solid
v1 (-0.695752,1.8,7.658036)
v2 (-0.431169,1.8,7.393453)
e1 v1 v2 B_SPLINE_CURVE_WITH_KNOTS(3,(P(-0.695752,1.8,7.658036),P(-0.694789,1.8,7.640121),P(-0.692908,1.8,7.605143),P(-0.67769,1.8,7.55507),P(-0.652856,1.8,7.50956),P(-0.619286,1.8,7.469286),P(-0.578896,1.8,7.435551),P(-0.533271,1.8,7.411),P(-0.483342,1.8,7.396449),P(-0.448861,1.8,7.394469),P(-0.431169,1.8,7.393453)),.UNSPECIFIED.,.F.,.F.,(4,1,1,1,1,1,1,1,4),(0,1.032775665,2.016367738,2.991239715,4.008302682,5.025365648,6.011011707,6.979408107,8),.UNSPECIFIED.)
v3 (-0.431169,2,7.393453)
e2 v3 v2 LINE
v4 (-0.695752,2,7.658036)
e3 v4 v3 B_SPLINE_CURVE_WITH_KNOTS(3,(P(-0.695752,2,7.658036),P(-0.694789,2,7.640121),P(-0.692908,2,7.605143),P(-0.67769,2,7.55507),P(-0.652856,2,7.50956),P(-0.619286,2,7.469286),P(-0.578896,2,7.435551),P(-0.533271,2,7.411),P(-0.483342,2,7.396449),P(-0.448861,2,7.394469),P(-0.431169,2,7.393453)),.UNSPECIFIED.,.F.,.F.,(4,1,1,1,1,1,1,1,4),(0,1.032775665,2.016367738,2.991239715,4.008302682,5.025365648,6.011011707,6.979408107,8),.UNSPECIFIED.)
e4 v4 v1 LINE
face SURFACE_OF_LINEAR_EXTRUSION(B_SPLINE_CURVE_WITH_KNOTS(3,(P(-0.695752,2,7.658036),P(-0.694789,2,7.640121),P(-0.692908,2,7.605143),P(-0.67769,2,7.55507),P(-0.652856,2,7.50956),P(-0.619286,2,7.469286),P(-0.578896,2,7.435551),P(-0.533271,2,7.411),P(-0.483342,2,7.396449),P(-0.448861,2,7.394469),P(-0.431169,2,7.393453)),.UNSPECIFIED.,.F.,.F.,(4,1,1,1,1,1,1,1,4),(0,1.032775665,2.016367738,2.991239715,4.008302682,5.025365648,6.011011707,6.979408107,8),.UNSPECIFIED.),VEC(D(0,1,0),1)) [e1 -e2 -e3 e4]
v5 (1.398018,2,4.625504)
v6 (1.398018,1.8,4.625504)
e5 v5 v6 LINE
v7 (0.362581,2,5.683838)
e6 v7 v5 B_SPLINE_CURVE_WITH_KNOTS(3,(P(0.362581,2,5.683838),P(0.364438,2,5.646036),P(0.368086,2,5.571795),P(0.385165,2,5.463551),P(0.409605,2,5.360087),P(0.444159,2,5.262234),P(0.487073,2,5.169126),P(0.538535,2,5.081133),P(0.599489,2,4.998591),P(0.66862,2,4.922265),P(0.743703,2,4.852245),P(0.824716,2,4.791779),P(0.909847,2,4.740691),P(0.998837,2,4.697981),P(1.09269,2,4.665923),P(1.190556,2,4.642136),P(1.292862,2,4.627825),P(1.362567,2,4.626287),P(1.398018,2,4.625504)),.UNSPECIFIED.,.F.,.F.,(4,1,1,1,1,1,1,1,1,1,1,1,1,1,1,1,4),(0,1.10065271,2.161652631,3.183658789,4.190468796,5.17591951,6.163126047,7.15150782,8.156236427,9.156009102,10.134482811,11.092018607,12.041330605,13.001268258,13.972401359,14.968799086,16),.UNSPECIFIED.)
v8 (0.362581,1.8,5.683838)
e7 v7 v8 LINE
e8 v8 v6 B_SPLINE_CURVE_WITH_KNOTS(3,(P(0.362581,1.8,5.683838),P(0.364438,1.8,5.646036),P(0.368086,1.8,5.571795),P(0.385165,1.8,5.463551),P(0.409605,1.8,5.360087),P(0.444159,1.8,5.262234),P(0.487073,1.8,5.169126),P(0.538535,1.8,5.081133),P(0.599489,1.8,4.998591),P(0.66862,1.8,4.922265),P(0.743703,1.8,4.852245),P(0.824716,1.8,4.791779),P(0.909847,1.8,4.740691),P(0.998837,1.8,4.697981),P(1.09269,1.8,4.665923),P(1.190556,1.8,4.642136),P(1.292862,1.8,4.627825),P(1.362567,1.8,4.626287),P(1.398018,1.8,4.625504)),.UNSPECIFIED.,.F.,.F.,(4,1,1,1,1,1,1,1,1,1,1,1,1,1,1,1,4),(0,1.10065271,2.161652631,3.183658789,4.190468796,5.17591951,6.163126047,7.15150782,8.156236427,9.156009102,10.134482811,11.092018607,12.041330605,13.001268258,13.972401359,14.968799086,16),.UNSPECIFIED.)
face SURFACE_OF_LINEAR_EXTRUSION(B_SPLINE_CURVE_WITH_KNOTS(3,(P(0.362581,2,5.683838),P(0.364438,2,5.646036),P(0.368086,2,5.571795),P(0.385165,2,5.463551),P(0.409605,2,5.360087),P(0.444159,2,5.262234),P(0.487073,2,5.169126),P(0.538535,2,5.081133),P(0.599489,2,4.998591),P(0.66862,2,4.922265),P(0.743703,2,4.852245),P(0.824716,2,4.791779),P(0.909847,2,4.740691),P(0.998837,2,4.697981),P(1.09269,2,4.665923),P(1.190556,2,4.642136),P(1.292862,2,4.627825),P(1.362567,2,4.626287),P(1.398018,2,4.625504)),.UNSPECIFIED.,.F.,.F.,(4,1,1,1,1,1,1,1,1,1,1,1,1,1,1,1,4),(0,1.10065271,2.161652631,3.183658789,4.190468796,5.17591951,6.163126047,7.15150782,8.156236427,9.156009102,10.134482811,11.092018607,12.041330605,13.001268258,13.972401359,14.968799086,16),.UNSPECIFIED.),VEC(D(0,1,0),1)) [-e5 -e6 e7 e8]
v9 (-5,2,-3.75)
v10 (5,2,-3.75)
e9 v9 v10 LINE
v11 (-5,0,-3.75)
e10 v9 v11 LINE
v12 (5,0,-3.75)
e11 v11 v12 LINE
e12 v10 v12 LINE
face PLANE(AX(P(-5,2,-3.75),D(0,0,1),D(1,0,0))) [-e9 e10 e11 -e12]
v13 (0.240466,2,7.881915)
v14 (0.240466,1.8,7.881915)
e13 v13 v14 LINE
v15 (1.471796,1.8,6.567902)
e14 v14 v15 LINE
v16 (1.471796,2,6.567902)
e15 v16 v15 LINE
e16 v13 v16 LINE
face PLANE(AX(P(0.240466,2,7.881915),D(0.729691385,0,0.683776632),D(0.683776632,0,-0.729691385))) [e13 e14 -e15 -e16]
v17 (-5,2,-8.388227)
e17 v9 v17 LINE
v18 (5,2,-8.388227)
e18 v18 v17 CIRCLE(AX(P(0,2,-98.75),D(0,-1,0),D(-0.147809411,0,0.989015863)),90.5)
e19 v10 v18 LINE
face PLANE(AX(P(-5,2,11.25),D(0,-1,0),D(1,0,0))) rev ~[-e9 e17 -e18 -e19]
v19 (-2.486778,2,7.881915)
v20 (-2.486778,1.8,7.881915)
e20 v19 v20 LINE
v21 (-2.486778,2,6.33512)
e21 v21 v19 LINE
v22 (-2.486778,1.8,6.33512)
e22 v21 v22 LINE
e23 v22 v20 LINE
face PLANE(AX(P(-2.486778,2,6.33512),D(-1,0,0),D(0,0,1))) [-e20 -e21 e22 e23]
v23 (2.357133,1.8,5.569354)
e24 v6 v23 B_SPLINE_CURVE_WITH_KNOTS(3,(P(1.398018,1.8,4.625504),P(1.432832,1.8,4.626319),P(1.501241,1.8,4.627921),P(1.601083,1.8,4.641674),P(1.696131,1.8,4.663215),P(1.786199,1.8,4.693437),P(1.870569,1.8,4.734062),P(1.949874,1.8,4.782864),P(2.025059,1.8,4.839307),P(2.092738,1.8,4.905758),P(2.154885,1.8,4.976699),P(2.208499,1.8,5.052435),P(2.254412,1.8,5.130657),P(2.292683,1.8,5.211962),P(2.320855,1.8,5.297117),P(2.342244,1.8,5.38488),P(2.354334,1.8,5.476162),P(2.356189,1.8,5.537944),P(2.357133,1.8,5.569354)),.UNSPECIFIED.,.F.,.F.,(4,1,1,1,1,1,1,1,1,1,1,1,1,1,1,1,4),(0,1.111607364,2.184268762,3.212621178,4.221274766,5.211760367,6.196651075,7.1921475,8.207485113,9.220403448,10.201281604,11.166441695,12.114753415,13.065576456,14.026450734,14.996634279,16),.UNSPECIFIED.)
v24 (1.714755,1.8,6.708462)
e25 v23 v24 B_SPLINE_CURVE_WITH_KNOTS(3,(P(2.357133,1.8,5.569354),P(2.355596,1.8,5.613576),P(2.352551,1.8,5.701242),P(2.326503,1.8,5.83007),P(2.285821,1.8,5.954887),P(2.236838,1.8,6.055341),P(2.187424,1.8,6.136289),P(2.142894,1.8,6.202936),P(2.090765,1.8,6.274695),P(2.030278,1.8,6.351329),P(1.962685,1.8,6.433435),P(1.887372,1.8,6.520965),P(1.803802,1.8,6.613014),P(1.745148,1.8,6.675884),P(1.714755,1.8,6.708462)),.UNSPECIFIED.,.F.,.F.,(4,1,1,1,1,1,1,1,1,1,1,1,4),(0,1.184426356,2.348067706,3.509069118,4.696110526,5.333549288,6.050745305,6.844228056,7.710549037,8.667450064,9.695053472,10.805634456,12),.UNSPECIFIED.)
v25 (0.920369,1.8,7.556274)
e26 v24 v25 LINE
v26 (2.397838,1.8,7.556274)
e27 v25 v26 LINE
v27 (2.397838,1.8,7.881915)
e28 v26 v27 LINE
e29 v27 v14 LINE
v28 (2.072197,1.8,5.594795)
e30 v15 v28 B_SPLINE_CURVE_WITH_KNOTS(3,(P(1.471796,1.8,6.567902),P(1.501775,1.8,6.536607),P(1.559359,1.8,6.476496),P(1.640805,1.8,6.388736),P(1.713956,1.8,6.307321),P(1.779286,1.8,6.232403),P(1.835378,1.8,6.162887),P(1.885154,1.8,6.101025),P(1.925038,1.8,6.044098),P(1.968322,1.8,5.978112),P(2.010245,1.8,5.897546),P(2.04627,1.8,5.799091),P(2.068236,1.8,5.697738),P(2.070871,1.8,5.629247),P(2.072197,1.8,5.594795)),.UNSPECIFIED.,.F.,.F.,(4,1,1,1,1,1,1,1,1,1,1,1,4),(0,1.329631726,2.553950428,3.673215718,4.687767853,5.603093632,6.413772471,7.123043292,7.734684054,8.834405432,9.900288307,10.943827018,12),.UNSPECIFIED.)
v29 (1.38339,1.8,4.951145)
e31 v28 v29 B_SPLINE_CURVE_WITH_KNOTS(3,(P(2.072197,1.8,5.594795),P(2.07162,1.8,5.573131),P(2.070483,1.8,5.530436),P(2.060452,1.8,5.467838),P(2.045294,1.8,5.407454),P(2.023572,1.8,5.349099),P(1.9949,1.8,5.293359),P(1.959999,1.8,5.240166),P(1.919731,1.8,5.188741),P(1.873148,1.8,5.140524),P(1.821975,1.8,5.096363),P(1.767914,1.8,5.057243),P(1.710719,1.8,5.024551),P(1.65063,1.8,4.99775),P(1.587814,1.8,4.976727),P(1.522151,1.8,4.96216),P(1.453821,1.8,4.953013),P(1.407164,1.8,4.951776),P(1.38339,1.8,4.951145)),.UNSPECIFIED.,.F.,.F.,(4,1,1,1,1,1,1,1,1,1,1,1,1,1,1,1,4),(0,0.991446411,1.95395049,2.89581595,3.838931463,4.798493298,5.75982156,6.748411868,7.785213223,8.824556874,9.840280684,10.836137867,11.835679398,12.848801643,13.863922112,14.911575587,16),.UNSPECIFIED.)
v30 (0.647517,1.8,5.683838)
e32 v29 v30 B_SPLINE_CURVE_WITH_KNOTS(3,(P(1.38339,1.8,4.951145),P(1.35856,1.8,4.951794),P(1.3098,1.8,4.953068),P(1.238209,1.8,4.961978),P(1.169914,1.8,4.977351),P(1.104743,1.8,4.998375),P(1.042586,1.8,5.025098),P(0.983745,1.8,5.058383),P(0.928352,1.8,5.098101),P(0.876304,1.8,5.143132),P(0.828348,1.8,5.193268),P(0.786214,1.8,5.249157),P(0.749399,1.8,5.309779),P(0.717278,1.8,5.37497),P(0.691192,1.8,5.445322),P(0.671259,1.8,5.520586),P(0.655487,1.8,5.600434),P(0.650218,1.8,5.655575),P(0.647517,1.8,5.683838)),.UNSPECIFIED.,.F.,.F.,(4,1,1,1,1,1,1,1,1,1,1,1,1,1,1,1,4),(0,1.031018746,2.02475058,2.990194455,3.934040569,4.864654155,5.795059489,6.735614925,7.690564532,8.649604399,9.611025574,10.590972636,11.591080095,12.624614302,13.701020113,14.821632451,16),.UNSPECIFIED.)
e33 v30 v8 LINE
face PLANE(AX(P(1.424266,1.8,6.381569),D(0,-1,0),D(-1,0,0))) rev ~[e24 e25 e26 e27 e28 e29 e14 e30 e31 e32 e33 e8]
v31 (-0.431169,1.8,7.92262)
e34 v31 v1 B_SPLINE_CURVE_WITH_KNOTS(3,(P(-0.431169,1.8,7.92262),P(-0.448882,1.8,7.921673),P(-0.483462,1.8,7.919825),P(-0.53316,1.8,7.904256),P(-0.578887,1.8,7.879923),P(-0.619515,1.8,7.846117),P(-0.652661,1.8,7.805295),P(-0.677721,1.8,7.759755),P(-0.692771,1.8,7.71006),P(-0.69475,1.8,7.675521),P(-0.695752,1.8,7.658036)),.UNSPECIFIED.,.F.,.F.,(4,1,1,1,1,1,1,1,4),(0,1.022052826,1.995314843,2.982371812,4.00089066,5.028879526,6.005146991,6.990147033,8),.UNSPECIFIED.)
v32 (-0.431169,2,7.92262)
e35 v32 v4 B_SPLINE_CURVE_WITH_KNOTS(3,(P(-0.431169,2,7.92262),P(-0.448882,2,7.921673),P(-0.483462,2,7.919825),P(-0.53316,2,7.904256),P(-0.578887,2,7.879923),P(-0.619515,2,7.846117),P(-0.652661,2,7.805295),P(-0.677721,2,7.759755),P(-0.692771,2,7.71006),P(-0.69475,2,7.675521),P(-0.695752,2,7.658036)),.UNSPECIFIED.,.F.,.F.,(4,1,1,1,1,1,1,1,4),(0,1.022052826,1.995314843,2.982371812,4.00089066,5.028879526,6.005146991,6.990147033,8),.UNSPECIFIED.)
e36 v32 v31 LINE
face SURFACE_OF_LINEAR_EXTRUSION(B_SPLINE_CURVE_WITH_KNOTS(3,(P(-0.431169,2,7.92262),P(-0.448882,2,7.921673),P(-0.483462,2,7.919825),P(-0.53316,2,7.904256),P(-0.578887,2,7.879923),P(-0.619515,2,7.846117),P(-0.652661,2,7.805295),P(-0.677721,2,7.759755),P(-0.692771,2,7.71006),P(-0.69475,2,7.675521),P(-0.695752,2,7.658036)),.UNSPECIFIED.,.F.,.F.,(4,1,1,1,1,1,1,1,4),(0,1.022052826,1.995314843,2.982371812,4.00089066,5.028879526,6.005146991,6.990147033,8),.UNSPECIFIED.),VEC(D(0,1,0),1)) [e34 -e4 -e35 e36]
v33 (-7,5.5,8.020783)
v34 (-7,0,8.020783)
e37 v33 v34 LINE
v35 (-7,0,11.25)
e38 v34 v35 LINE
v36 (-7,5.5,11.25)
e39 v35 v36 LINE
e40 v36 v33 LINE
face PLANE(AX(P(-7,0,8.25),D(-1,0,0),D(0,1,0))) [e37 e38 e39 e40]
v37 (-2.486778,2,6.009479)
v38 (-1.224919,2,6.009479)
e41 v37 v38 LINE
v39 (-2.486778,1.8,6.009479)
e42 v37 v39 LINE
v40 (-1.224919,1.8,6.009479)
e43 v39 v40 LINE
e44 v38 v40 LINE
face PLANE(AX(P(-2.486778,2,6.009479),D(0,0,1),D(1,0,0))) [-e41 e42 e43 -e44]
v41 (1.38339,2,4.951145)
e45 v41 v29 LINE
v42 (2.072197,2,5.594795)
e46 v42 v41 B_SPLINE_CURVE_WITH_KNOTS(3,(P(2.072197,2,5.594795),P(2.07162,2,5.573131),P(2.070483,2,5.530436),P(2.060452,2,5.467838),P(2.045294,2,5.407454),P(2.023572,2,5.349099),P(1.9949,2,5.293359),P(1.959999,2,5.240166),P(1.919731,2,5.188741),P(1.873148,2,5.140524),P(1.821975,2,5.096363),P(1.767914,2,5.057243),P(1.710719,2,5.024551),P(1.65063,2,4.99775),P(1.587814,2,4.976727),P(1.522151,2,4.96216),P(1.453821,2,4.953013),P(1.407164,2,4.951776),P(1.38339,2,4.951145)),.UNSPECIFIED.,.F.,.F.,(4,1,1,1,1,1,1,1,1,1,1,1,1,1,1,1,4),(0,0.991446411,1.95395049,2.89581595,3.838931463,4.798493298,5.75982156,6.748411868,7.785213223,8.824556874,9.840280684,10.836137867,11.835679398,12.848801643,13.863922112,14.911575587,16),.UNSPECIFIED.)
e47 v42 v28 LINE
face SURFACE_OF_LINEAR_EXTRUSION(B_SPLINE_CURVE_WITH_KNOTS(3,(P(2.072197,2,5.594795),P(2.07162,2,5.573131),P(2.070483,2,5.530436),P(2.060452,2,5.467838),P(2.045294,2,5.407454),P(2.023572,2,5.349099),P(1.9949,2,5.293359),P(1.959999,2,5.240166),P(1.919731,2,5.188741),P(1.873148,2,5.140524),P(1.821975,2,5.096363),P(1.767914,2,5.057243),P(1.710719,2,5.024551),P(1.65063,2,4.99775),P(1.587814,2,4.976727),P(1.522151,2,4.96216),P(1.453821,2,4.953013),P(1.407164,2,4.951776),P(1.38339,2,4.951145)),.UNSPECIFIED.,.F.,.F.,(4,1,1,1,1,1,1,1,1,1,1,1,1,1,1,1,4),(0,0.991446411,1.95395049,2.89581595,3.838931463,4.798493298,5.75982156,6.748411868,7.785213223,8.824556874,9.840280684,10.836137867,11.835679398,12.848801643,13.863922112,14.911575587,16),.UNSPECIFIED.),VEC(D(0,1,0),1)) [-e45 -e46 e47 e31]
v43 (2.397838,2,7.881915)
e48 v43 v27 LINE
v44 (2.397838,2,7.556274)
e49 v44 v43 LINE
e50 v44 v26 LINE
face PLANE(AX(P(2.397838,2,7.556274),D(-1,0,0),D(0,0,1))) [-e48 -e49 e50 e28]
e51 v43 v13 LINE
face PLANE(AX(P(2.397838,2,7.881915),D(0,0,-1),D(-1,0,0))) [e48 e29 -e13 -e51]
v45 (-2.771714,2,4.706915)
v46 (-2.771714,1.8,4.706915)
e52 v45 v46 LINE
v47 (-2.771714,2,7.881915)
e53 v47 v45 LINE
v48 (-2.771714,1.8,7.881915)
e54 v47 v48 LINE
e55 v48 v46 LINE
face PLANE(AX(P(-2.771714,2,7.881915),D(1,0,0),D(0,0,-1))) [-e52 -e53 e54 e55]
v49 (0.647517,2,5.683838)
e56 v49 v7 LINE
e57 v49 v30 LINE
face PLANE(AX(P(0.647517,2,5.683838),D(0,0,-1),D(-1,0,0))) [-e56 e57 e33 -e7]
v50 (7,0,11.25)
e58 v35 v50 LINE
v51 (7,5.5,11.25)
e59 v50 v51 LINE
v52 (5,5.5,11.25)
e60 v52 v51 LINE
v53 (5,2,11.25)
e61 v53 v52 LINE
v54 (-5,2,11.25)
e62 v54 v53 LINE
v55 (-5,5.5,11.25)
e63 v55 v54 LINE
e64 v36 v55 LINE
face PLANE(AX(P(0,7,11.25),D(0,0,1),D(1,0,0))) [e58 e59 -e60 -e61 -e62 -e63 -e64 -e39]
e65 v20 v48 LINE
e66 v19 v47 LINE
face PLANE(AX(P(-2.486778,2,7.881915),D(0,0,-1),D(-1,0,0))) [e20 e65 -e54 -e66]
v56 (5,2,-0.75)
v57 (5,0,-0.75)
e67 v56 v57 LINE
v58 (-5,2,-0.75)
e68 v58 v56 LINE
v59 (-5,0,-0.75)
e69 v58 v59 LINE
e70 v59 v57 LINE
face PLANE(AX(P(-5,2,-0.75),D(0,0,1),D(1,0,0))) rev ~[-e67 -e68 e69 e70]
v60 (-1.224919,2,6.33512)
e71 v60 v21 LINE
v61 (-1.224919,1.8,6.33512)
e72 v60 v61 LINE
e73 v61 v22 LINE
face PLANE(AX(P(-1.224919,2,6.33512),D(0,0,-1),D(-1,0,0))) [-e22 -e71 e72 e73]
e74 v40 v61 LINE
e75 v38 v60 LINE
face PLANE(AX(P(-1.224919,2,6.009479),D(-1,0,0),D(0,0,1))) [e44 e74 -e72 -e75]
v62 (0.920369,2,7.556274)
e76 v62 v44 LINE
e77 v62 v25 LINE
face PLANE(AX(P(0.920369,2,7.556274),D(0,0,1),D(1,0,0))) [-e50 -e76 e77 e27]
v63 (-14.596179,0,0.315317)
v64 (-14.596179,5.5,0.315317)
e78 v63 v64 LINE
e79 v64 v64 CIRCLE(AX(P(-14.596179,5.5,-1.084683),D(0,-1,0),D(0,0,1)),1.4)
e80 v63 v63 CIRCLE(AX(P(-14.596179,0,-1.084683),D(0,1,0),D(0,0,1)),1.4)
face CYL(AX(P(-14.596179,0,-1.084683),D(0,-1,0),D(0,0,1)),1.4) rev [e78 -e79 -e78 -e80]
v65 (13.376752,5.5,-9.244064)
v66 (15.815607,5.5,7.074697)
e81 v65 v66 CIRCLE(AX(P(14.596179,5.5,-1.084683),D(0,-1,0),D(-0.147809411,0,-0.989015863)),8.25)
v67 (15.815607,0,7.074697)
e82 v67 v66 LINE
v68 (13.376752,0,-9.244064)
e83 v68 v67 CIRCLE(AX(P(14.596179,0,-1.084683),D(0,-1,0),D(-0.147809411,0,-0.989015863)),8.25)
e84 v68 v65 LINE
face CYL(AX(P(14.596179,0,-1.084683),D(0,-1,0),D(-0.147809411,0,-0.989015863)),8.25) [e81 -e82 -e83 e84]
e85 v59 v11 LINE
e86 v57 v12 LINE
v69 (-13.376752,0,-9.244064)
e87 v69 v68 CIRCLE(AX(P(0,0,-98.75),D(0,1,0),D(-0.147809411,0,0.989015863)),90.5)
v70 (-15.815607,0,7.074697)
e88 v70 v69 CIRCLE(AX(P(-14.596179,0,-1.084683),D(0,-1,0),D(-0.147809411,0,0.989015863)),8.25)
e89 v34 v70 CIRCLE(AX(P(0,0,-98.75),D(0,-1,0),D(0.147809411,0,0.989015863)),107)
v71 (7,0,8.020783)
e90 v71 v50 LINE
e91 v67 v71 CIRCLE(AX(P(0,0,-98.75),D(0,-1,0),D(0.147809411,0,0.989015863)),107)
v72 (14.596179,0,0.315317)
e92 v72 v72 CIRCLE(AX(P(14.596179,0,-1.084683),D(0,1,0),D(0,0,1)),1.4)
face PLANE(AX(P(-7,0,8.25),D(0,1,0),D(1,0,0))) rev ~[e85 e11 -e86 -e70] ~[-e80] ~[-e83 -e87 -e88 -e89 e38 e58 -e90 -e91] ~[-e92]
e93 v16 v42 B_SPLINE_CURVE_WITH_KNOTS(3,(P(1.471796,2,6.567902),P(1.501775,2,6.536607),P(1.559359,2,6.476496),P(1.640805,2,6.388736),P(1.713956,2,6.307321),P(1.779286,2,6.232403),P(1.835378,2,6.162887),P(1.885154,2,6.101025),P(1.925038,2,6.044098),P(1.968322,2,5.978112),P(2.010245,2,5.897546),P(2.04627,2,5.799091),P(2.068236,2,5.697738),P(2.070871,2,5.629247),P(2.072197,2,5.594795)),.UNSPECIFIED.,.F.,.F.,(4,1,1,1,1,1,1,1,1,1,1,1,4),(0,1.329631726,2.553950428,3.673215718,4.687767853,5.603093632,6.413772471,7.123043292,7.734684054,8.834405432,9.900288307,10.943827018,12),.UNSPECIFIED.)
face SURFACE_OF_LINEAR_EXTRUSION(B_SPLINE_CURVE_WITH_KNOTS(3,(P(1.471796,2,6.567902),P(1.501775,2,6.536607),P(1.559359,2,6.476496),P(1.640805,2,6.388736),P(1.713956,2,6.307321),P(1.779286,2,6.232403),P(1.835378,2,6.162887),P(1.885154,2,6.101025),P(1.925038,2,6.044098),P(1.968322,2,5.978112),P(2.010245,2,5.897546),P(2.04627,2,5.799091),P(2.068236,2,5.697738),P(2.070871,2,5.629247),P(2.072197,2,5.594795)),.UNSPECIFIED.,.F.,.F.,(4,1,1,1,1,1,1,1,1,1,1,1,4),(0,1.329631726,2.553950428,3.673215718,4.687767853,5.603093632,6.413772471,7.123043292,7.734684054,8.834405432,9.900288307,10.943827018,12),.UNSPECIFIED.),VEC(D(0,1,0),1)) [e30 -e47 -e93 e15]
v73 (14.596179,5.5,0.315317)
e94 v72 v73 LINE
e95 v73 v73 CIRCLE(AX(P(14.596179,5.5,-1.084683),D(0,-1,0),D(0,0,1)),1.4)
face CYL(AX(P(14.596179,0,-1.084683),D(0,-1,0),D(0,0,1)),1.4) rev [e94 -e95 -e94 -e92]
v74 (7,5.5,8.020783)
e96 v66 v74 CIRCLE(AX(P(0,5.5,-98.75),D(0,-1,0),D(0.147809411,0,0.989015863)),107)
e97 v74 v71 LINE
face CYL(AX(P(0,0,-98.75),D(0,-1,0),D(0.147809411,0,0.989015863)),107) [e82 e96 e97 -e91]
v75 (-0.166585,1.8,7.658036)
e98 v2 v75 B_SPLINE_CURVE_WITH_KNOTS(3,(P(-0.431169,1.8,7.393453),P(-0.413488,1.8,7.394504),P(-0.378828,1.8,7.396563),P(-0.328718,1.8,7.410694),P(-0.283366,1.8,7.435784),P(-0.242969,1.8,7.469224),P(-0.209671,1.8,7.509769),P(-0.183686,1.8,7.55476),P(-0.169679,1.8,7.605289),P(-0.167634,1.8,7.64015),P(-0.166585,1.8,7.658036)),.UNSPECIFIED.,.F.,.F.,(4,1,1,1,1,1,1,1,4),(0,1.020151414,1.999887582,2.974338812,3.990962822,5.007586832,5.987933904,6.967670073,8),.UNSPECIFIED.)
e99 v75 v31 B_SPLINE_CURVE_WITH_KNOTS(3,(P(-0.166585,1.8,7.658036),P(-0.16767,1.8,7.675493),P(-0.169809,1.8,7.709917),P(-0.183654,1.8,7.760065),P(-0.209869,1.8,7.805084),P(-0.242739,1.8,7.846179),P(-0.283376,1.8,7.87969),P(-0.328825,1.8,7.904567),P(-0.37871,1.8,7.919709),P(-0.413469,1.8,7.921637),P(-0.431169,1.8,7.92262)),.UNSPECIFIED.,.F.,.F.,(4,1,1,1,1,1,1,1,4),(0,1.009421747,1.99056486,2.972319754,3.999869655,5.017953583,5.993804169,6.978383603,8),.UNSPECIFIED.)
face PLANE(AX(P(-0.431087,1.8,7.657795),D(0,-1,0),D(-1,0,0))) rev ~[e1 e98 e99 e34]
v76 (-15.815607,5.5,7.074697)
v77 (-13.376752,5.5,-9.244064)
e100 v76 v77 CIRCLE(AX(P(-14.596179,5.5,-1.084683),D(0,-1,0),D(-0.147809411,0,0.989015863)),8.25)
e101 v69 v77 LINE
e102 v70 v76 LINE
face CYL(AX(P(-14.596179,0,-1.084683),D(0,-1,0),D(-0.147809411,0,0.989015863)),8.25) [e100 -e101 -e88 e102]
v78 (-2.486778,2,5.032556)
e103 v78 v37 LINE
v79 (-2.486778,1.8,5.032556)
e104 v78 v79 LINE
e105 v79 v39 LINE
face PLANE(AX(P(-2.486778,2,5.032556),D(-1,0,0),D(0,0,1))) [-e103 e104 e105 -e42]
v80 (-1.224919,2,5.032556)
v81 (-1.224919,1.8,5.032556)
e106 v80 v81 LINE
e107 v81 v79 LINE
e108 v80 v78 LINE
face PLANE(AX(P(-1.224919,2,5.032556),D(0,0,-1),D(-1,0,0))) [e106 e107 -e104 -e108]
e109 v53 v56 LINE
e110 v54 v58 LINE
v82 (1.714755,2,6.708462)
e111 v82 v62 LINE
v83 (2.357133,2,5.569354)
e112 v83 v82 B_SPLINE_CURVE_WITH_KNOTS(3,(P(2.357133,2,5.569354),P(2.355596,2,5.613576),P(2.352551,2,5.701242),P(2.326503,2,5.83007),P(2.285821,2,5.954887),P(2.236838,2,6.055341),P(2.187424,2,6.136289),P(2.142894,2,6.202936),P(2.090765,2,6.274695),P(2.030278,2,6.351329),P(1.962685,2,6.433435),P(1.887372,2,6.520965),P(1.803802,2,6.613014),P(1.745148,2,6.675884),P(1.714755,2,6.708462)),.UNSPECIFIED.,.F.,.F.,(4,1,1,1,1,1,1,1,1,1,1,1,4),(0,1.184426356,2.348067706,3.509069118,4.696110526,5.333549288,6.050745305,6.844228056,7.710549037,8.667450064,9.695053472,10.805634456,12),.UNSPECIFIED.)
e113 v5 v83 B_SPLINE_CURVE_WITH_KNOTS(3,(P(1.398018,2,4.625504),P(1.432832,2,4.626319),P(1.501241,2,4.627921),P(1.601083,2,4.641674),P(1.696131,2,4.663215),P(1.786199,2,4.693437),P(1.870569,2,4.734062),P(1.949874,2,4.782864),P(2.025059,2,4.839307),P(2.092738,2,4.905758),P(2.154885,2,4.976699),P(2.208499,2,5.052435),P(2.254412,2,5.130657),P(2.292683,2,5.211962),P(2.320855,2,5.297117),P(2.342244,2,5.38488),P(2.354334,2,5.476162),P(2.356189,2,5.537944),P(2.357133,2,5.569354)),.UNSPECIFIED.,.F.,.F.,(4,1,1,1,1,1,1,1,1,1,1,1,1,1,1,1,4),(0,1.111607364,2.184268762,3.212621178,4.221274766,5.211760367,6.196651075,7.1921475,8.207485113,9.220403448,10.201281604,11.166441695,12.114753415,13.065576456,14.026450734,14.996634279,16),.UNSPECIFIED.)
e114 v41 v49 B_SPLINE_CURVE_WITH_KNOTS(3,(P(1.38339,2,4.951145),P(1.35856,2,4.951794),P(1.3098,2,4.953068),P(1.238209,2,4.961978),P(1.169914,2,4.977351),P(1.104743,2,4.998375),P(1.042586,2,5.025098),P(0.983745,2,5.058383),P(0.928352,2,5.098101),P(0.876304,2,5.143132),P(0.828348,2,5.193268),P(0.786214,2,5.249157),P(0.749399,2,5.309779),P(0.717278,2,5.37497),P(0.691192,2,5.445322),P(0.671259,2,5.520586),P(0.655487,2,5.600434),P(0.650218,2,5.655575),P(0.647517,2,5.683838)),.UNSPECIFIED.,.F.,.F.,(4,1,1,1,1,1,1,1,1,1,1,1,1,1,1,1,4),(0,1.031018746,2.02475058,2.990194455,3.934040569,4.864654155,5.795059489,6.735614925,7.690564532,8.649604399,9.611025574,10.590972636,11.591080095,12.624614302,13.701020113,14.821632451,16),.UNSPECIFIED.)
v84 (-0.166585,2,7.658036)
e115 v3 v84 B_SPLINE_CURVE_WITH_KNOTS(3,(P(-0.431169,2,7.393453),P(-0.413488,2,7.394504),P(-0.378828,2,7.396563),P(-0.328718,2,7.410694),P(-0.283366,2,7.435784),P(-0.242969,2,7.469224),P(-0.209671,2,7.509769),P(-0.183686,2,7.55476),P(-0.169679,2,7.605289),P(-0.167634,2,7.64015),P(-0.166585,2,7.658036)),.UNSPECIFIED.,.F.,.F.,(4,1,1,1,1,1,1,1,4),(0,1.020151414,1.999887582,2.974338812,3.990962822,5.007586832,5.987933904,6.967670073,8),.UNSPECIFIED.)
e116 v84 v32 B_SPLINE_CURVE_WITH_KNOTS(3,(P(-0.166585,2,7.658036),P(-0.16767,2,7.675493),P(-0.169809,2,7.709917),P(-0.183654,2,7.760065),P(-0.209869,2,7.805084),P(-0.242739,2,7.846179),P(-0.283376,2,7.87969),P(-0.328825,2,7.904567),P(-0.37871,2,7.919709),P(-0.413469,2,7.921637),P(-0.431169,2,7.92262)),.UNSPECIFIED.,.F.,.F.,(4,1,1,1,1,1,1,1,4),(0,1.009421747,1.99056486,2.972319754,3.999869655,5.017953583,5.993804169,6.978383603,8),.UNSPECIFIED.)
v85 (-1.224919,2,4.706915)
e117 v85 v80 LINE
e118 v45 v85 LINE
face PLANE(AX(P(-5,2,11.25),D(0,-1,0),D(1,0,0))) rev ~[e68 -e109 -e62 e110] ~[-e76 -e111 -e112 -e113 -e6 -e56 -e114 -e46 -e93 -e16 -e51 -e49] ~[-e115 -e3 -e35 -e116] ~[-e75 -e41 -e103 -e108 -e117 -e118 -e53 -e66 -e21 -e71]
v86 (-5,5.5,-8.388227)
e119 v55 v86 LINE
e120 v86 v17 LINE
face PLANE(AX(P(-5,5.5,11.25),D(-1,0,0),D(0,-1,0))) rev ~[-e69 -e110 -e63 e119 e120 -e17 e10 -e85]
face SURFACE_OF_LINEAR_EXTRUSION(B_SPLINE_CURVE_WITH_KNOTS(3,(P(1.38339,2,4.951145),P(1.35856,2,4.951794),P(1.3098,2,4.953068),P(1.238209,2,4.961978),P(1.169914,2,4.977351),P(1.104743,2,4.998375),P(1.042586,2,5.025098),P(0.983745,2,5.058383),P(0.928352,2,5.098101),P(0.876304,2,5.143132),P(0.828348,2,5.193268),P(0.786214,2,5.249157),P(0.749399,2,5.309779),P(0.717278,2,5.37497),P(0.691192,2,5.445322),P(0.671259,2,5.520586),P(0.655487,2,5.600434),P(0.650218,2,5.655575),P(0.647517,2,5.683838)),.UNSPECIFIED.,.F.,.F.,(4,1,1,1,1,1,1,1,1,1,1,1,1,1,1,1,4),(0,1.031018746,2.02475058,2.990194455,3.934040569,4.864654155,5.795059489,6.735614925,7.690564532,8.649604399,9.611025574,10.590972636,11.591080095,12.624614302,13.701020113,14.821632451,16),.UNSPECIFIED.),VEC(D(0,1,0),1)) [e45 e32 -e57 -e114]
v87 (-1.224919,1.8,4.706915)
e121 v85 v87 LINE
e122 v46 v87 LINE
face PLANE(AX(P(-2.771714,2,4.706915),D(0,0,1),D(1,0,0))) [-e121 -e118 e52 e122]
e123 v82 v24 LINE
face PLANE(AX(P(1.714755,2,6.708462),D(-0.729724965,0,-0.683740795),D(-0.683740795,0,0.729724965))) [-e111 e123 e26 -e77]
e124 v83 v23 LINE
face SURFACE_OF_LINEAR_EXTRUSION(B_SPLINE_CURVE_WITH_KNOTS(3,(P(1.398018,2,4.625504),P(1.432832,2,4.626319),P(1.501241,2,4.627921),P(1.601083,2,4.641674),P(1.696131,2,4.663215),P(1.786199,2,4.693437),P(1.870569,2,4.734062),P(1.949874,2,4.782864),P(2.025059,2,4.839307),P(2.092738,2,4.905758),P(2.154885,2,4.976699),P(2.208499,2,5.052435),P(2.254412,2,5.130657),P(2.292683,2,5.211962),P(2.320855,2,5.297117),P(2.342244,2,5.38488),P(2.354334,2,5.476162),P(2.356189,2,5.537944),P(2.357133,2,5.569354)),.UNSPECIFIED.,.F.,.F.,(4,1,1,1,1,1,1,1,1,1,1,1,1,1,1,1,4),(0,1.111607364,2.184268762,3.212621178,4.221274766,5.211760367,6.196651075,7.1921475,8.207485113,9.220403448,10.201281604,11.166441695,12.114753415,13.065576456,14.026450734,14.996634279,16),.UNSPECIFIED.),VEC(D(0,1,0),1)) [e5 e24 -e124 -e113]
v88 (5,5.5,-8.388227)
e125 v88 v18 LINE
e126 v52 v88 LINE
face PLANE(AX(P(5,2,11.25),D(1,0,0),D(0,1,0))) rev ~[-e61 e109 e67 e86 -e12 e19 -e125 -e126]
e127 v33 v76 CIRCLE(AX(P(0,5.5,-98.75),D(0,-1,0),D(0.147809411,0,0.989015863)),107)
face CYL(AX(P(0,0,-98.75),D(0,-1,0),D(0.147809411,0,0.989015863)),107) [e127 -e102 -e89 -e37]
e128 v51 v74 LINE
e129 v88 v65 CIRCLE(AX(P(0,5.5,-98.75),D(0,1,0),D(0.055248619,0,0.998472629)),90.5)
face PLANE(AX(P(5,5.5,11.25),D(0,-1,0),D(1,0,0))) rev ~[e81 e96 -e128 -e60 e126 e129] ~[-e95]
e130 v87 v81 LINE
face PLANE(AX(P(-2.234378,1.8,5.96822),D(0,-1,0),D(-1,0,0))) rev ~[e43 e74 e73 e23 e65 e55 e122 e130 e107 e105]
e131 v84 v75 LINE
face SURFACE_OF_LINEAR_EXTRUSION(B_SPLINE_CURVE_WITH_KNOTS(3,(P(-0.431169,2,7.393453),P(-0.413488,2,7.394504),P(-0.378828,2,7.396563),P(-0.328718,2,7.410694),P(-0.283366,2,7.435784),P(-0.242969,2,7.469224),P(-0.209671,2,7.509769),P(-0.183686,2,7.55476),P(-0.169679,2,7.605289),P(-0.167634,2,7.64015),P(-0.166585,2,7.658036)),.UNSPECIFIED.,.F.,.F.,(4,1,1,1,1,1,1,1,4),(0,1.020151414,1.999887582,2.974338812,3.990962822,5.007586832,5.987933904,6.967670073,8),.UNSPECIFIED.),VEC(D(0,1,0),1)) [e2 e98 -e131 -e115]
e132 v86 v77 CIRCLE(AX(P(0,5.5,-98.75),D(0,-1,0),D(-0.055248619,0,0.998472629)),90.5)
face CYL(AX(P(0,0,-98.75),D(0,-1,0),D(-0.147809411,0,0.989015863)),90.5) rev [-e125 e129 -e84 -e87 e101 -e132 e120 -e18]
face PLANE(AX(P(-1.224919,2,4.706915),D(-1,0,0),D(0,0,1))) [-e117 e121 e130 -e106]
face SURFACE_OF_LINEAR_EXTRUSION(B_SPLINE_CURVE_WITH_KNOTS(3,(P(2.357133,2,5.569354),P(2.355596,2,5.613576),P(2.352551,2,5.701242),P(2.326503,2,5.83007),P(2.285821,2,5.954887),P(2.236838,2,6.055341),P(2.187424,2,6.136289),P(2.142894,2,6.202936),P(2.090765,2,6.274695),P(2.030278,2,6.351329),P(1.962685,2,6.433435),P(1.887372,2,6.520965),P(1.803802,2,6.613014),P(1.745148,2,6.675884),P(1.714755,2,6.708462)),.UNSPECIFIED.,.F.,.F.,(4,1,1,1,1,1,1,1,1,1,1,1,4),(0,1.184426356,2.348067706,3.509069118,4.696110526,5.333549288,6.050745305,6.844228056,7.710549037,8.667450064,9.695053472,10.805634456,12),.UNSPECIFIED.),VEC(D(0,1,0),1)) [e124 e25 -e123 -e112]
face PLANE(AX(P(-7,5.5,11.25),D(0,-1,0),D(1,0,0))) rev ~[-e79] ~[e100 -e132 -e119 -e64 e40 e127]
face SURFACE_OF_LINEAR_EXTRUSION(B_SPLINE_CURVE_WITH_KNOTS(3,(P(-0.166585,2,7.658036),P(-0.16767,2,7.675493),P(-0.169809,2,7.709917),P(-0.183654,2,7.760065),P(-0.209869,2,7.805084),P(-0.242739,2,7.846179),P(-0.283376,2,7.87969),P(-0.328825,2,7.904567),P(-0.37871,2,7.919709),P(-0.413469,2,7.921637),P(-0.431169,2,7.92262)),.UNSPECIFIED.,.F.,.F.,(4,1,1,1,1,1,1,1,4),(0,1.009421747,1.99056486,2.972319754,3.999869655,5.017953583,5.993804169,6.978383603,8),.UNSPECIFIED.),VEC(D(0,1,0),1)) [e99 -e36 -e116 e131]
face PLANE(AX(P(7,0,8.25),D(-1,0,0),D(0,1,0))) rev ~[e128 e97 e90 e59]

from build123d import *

# Parameters (mm, degrees)
SKETCH2_R                       = 1.4
BOSS_EXTRUDE1_DEPTH             = 14
BOSS_EXTRUDE2_REACH             = 34.049
BOSS_EXTRUDE2_END_RADIUS        = 107
SKETCH3_W                       = 14
SKETCH3_H                       = 14
BOSS_EXTRUDE2_DIRECTION_2_DEPTH = 3
SKETCH19_W                      = 15.846179349
SKETCH19_H                      = 3
CUT_EXTRUDE4_DEPTH              = 22
CUT_EXTRUDE8_DEPTH              = 34.788712692
SKETCH25_W                      = 10
SKETCH25_H                      = 3
CUT_EXTRUDE9_DEPTH              = 2
CUT_EXTRUDE10_DEPTH             = 0.2


with BuildPart() as part:
    # Sketch2 → Boss-Extrude1 (new body)
    with BuildSketch(Plane(origin=(0, 0, 0), x_dir=(1, 0, 0), z_dir=(0, 1, 0))):
        with BuildLine():
            ThreePointArc((-13.376751707, 9.244064366), (0, 8.25), (13.376751707, 9.244064366))
            ThreePointArc((13.376751707, 9.244064366), (22.755560222, 2.304111135), (15.815606991, -7.07469738))
            ThreePointArc((15.815606991, -7.07469738), (0, -8.25), (-15.815606991, -7.07469738))
            ThreePointArc((-15.815606991, -7.07469738), (-22.755560222, 2.304111135), (-13.376751707, 9.244064366))
        make_face()
        with Locations(Location((-14.596179349, 1.084683493, 0), (0, 0, 270))):
            Circle(SKETCH2_R, mode=Mode.SUBTRACT)
        with Locations(Location((14.596179349, 1.084683493, 0), (0, 0, 270))):
            Circle(SKETCH2_R, mode=Mode.SUBTRACT)
    extrude(amount=BOSS_EXTRUDE1_DEPTH)

    # Boss-Extrude2: up to this cylinder (the profile starts outside it)
    boss_extrude2_end = Plane(origin=(0, 7, -98.75), z_dir=(0, -1, 0)) * Cylinder(BOSS_EXTRUDE2_END_RADIUS, 283.098, mode=Mode.PRIVATE)
    # Sketch3 → Boss-Extrude2 (add, up to the surface)
    with BuildSketch(Plane.XY.offset(8.25), mode=Mode.PRIVATE) as boss_extrude2_sk1:
        with Locations((0, 7)):
            Rectangle(SKETCH3_W, SKETCH3_H)
    boss_extrude2_tool1 = extrude(boss_extrude2_sk1.sketch, amount=-BOSS_EXTRUDE2_REACH, mode=Mode.PRIVATE) - boss_extrude2_end
    add(boss_extrude2_tool1.solids().sort_by_distance((0, 7, 8.25))[0])
    add(boss_extrude2_tool1.solids().sort_by_distance((0, 7, 8.25))[1])

    # Sketch3 → Boss-Extrude2 direction 2 (add)
    with BuildSketch(Plane.XY.offset(8.25)):
        with Locations((0, 7)):
            Rectangle(SKETCH3_W, SKETCH3_H)
    extrude(amount=BOSS_EXTRUDE2_DIRECTION_2_DEPTH)

    # Sketch19 → Cut-Extrude4 (cut)
    with BuildSketch(Plane.XY.offset(8.25)):
        with Locations((-14.923089674, 7)):
            Rectangle(SKETCH19_W, SKETCH19_H)
    cut_extrude4 = extrude(amount=-CUT_EXTRUDE4_DEPTH, mode=Mode.SUBTRACT)

    # Mirror2: Cut-Extrude4 across plane
    add(cut_extrude4.mirror(Plane(origin=(0, 0, 0), x_dir=(0, 0, 1), z_dir=(1, 0, 0))), mode=Mode.SUBTRACT)

    # Sketch24 → Cut-Extrude8 (cut, through all)
    with BuildSketch(Plane.XY.offset(11.25)):
        Polygon((-5, 8.5), (-7, 8.5), (-7, 5.5), (-5, 5.5), (-5, 2), (5, 2), (5, 5.5), (7, 5.5), (7, 8.5), (5, 8.5), (5, 12), (-5, 12), align=None)
    extrude(amount=-CUT_EXTRUDE8_DEPTH, mode=Mode.SUBTRACT)


with BuildPart() as cut_extrude8_kept_piece:
    # of the separate pieces the step leaves, the one the design keeps (cut_extrude8_pieces_kept)
    add(part.part.solids().sort_by_distance((15.815606991, 0, 7.07469738))[0])

    # Sketch25 → Cut-Extrude9 (cut)
    with BuildSketch(Plane(origin=(0, 2, 0), x_dir=(1, 0, 0), z_dir=(0, 1, 0))):
        with Locations((0, 2.25)):
            Rectangle(SKETCH25_W, SKETCH25_H)
    extrude(amount=-CUT_EXTRUDE9_DEPTH, mode=Mode.SUBTRACT)

    # Sketch26 → Cut-Extrude10 (cut)
    with BuildSketch(Plane(origin=(0, 2, 0), x_dir=(1, 0, 0), z_dir=(0, 1, 0))):
        Polygon((-2.771713643, -4.706914557), (-1.224918771, -4.706914557), (-1.224918771, -5.032555583), (-2.486777746, -5.032555583), (-2.486777746, -6.00947866), (-1.224918771, -6.00947866), (-1.224918771, -6.335119685), (-2.486777746, -6.335119685), (-2.486777746, -7.881914557), (-2.771713643, -7.881914557), align=None)
        with BuildLine():
            add(Edge.make_bspline(
                [(-0.431168771, -7.393453019), (-0.413488364, -7.394503641), (-0.378827994, -7.396563264), (-0.328718213, -7.410693533), (-0.283365915, -7.435783889), (-0.242968807, -7.469223695), (-0.209670789, -7.509769047), (-0.18368627, -7.554759621), (-0.16967909, -7.605288923), (-0.16763447, -7.640150128), (-0.166585438, -7.658036352)],
                knots=[0, 0, 0, 0, 1.020151414, 1.999887582, 2.974338812, 3.990962822, 5.007586832, 5.987933904, 6.967670073, 8, 8, 8, 8], degree=3))
            add(Edge.make_bspline(
                [(-0.166585438, -7.658036352), (-0.167670019, -7.675492801), (-0.169808796, -7.709916663), (-0.183654162, -7.760064847), (-0.209868822, -7.805083538), (-0.242739137, -7.846179049), (-0.283375901, -7.879689696), (-0.328825433, -7.904566588), (-0.37871036, -7.919708598), (-0.413468739, -7.921637453), (-0.431168771, -7.922619685)],
                knots=[0, 0, 0, 0, 1.009421747, 1.99056486, 2.972319754, 3.999869655, 5.017953583, 5.993804169, 6.978383603, 8, 8, 8, 8], degree=3))
            add(Edge.make_bspline(
                [(-0.431168771, -7.922619685), (-0.448881557, -7.921672994), (-0.483461555, -7.919824803), (-0.533160278, -7.904255686), (-0.5788866, -7.879922976), (-0.619515453, -7.846116565), (-0.652661066, -7.805295007), (-0.677721235, -7.759754806), (-0.69277087, -7.710060216), (-0.69475014, -7.675521076), (-0.695752105, -7.658036352)],
                knots=[0, 0, 0, 0, 1.022052826, 1.995314843, 2.982371812, 4.00089066, 5.028879526, 6.005146991, 6.990147033, 8, 8, 8, 8], degree=3))
            add(Edge.make_bspline(
                [(-0.695752105, -7.658036352), (-0.694788629, -7.640120843), (-0.692907561, -7.605143011), (-0.67768964, -7.555069535), (-0.652855505, -7.509559594), (-0.619286325, -7.469285553), (-0.578896428, -7.435551358), (-0.533270585, -7.410999724), (-0.483341859, -7.396448778), (-0.448861415, -7.394468924), (-0.431168771, -7.393453019)],
                knots=[0, 0, 0, 0, 1.032775665, 2.016367738, 2.991239715, 4.008302682, 5.025365648, 6.011011707, 6.979408107, 8, 8, 8, 8], degree=3))
        make_face()
        with BuildLine():
            Line((0.647517126, -5.683837634), (0.362581229, -5.683837634))
            add(Edge.make_bspline(
                [(0.362581229, -5.683837634), (0.364438289, -5.646036186), (0.368085506, -5.571795148), (0.385165454, -5.463551318), (0.409604678, -5.360087322), (0.444159069, -5.2622339), (0.487072621, -5.16912584), (0.53853486, -5.081132968), (0.599489281, -4.998590961), (0.668619676, -4.922265011), (0.743702656, -4.852244857), (0.824715901, -4.79177903), (0.909846747, -4.740690856), (0.998836916, -4.697981444), (1.092690427, -4.665923155), (1.190555591, -4.642136382), (1.292862379, -4.627824983), (1.362567256, -4.626286663), (1.398017927, -4.625504301)],
                knots=[0, 0, 0, 0, 1.10065271, 2.161652631, 3.183658789, 4.190468796, 5.17591951, 6.163126047, 7.15150782, 8.156236427, 9.156009102, 10.134482811, 11.092018607, 12.041330605, 13.001268258, 13.972401359, 14.968799086, 16, 16, 16, 16], degree=3))
            add(Edge.make_bspline(
                [(1.398017927, -4.625504301), (1.432832323, -4.626319329), (1.501241367, -4.627920831), (1.601083338, -4.64167405), (1.696131312, -4.663214694), (1.7861995, -4.693436536), (1.870569287, -4.734062409), (1.949874478, -4.782864462), (2.025059213, -4.839306738), (2.092738224, -4.905758412), (2.154884839, -4.976699146), (2.208499027, -5.052434601), (2.254412397, -5.130656882), (2.292682649, -5.211962465), (2.320855004, -5.297116898), (2.342243807, -5.384880432), (2.354333675, -5.47616151), (2.356189167, -5.537943886), (2.357132511, -5.569354461)],
                knots=[0, 0, 0, 0, 1.111607364, 2.184268762, 3.212621178, 4.221274766, 5.211760367, 6.196651075, 7.1921475, 8.207485113, 9.220403448, 10.201281604, 11.166441695, 12.114753415, 13.065576456, 14.026450734, 14.996634279, 16, 16, 16, 16], degree=3))
            add(Edge.make_bspline(
                [(2.357132511, -5.569354461), (2.355596479, -5.613575711), (2.352551372, -5.701242191), (2.32650333, -5.830069959), (2.285821138, -5.954886846), (2.236837822, -6.055341399), (2.187423533, -6.136288925), (2.142894151, -6.202935536), (2.090765358, -6.274695497), (2.030278435, -6.35132851), (1.962684615, -6.433434831), (1.887371653, -6.52096486), (1.803802494, -6.613014251), (1.745147997, -6.675884332), (1.714754706, -6.708462033)],
                knots=[0, 0, 0, 0, 1.184426356, 2.348067706, 3.509069118, 4.696110526, 5.333549288, 6.050745305, 6.844228056, 7.710549037, 8.667450064, 9.695053472, 10.805634456, 12, 12, 12, 12], degree=3))
            Line((1.714754706, -6.708462033), (0.920368689, -7.556273532))
            Line((0.920368689, -7.556273532), (2.397837639, -7.556273532))
            Line((2.397837639, -7.556273532), (2.397837639, -7.881914557))
            Line((2.397837639, -7.881914557), (0.240465844, -7.881914557))
            Line((0.240465844, -7.881914557), (1.471795972, -6.567902137))
            add(Edge.make_bspline(
                [(1.471795972, -6.567902137), (1.501775127, -6.536607245), (1.559358947, -6.476496161), (1.64080457, -6.388736476), (1.713955653, -6.307320821), (1.779285716, -6.232403024), (1.835377539, -6.162887244), (1.885154492, -6.101024906), (1.925037564, -6.044097655), (1.968322244, -5.978111527), (2.010244927, -5.897546067), (2.046269707, -5.799090506), (2.068236034, -5.697737927), (2.070871135, -5.629246794), (2.072196613, -5.594795166)],
                knots=[0, 0, 0, 0, 1.329631726, 2.553950428, 3.673215718, 4.687767853, 5.603093632, 6.413772471, 7.123043292, 7.734684054, 8.834405432, 9.900288307, 10.943827018, 12, 12, 12, 12], degree=3))
            add(Edge.make_bspline(
                [(2.072196613, -5.594795166), (2.071619904, -5.573131326), (2.070483321, -5.530436058), (2.06045241, -5.467837976), (2.045293594, -5.407454181), (2.023571824, -5.349098934), (1.994899996, -5.293358949), (1.959999144, -5.240166378), (1.919731015, -5.188741388), (1.873148078, -5.140523753), (1.82197477, -5.096362945), (1.767914273, -5.057243239), (1.710718821, -5.024550617), (1.650629567, -4.997750445), (1.587814034, -4.976727064), (1.52215073, -4.962159638), (1.453821086, -4.953013385), (1.407163558, -4.951775886), (1.383389522, -4.951145326)],
                knots=[0, 0, 0, 0, 0.991446411, 1.95395049, 2.89581595, 3.838931463, 4.798493298, 5.75982156, 6.748411868, 7.785213223, 8.824556874, 9.840280684, 10.836137867, 11.835679398, 12.848801643, 13.863922112, 14.911575587, 16, 16, 16, 16], degree=3))
            add(Edge.make_bspline(
                [(1.383389522, -4.951145326), (1.358560267, -4.951793963), (1.309799709, -4.953067778), (1.238208872, -4.961978337), (1.169913916, -4.977350635), (1.104743047, -4.99837519), (1.042585994, -5.025098302), (0.98374504, -5.058382956), (0.928352276, -5.098100839), (0.876303573, -5.143131915), (0.828348392, -5.193267525), (0.78621444, -5.249156563), (0.749398942, -5.309778575), (0.717277708, -5.374969989), (0.69119219, -5.445322347), (0.671259403, -5.520585908), (0.655487049, -5.600433875), (0.650217891, -5.655574631), (0.647517126, -5.683837634)],
                knots=[0, 0, 0, 0, 1.031018746, 2.02475058, 2.990194455, 3.934040569, 4.864654155, 5.795059489, 6.735614925, 7.690564532, 8.649604399, 9.611025574, 10.590972636, 11.591080095, 12.624614302, 13.701020113, 14.821632451, 16, 16, 16, 16], degree=3))
        make_face()
    extrude(amount=-CUT_EXTRUDE10_DEPTH, mode=Mode.SUBTRACT)


solid = cut_extrude8_kept_piece.part
